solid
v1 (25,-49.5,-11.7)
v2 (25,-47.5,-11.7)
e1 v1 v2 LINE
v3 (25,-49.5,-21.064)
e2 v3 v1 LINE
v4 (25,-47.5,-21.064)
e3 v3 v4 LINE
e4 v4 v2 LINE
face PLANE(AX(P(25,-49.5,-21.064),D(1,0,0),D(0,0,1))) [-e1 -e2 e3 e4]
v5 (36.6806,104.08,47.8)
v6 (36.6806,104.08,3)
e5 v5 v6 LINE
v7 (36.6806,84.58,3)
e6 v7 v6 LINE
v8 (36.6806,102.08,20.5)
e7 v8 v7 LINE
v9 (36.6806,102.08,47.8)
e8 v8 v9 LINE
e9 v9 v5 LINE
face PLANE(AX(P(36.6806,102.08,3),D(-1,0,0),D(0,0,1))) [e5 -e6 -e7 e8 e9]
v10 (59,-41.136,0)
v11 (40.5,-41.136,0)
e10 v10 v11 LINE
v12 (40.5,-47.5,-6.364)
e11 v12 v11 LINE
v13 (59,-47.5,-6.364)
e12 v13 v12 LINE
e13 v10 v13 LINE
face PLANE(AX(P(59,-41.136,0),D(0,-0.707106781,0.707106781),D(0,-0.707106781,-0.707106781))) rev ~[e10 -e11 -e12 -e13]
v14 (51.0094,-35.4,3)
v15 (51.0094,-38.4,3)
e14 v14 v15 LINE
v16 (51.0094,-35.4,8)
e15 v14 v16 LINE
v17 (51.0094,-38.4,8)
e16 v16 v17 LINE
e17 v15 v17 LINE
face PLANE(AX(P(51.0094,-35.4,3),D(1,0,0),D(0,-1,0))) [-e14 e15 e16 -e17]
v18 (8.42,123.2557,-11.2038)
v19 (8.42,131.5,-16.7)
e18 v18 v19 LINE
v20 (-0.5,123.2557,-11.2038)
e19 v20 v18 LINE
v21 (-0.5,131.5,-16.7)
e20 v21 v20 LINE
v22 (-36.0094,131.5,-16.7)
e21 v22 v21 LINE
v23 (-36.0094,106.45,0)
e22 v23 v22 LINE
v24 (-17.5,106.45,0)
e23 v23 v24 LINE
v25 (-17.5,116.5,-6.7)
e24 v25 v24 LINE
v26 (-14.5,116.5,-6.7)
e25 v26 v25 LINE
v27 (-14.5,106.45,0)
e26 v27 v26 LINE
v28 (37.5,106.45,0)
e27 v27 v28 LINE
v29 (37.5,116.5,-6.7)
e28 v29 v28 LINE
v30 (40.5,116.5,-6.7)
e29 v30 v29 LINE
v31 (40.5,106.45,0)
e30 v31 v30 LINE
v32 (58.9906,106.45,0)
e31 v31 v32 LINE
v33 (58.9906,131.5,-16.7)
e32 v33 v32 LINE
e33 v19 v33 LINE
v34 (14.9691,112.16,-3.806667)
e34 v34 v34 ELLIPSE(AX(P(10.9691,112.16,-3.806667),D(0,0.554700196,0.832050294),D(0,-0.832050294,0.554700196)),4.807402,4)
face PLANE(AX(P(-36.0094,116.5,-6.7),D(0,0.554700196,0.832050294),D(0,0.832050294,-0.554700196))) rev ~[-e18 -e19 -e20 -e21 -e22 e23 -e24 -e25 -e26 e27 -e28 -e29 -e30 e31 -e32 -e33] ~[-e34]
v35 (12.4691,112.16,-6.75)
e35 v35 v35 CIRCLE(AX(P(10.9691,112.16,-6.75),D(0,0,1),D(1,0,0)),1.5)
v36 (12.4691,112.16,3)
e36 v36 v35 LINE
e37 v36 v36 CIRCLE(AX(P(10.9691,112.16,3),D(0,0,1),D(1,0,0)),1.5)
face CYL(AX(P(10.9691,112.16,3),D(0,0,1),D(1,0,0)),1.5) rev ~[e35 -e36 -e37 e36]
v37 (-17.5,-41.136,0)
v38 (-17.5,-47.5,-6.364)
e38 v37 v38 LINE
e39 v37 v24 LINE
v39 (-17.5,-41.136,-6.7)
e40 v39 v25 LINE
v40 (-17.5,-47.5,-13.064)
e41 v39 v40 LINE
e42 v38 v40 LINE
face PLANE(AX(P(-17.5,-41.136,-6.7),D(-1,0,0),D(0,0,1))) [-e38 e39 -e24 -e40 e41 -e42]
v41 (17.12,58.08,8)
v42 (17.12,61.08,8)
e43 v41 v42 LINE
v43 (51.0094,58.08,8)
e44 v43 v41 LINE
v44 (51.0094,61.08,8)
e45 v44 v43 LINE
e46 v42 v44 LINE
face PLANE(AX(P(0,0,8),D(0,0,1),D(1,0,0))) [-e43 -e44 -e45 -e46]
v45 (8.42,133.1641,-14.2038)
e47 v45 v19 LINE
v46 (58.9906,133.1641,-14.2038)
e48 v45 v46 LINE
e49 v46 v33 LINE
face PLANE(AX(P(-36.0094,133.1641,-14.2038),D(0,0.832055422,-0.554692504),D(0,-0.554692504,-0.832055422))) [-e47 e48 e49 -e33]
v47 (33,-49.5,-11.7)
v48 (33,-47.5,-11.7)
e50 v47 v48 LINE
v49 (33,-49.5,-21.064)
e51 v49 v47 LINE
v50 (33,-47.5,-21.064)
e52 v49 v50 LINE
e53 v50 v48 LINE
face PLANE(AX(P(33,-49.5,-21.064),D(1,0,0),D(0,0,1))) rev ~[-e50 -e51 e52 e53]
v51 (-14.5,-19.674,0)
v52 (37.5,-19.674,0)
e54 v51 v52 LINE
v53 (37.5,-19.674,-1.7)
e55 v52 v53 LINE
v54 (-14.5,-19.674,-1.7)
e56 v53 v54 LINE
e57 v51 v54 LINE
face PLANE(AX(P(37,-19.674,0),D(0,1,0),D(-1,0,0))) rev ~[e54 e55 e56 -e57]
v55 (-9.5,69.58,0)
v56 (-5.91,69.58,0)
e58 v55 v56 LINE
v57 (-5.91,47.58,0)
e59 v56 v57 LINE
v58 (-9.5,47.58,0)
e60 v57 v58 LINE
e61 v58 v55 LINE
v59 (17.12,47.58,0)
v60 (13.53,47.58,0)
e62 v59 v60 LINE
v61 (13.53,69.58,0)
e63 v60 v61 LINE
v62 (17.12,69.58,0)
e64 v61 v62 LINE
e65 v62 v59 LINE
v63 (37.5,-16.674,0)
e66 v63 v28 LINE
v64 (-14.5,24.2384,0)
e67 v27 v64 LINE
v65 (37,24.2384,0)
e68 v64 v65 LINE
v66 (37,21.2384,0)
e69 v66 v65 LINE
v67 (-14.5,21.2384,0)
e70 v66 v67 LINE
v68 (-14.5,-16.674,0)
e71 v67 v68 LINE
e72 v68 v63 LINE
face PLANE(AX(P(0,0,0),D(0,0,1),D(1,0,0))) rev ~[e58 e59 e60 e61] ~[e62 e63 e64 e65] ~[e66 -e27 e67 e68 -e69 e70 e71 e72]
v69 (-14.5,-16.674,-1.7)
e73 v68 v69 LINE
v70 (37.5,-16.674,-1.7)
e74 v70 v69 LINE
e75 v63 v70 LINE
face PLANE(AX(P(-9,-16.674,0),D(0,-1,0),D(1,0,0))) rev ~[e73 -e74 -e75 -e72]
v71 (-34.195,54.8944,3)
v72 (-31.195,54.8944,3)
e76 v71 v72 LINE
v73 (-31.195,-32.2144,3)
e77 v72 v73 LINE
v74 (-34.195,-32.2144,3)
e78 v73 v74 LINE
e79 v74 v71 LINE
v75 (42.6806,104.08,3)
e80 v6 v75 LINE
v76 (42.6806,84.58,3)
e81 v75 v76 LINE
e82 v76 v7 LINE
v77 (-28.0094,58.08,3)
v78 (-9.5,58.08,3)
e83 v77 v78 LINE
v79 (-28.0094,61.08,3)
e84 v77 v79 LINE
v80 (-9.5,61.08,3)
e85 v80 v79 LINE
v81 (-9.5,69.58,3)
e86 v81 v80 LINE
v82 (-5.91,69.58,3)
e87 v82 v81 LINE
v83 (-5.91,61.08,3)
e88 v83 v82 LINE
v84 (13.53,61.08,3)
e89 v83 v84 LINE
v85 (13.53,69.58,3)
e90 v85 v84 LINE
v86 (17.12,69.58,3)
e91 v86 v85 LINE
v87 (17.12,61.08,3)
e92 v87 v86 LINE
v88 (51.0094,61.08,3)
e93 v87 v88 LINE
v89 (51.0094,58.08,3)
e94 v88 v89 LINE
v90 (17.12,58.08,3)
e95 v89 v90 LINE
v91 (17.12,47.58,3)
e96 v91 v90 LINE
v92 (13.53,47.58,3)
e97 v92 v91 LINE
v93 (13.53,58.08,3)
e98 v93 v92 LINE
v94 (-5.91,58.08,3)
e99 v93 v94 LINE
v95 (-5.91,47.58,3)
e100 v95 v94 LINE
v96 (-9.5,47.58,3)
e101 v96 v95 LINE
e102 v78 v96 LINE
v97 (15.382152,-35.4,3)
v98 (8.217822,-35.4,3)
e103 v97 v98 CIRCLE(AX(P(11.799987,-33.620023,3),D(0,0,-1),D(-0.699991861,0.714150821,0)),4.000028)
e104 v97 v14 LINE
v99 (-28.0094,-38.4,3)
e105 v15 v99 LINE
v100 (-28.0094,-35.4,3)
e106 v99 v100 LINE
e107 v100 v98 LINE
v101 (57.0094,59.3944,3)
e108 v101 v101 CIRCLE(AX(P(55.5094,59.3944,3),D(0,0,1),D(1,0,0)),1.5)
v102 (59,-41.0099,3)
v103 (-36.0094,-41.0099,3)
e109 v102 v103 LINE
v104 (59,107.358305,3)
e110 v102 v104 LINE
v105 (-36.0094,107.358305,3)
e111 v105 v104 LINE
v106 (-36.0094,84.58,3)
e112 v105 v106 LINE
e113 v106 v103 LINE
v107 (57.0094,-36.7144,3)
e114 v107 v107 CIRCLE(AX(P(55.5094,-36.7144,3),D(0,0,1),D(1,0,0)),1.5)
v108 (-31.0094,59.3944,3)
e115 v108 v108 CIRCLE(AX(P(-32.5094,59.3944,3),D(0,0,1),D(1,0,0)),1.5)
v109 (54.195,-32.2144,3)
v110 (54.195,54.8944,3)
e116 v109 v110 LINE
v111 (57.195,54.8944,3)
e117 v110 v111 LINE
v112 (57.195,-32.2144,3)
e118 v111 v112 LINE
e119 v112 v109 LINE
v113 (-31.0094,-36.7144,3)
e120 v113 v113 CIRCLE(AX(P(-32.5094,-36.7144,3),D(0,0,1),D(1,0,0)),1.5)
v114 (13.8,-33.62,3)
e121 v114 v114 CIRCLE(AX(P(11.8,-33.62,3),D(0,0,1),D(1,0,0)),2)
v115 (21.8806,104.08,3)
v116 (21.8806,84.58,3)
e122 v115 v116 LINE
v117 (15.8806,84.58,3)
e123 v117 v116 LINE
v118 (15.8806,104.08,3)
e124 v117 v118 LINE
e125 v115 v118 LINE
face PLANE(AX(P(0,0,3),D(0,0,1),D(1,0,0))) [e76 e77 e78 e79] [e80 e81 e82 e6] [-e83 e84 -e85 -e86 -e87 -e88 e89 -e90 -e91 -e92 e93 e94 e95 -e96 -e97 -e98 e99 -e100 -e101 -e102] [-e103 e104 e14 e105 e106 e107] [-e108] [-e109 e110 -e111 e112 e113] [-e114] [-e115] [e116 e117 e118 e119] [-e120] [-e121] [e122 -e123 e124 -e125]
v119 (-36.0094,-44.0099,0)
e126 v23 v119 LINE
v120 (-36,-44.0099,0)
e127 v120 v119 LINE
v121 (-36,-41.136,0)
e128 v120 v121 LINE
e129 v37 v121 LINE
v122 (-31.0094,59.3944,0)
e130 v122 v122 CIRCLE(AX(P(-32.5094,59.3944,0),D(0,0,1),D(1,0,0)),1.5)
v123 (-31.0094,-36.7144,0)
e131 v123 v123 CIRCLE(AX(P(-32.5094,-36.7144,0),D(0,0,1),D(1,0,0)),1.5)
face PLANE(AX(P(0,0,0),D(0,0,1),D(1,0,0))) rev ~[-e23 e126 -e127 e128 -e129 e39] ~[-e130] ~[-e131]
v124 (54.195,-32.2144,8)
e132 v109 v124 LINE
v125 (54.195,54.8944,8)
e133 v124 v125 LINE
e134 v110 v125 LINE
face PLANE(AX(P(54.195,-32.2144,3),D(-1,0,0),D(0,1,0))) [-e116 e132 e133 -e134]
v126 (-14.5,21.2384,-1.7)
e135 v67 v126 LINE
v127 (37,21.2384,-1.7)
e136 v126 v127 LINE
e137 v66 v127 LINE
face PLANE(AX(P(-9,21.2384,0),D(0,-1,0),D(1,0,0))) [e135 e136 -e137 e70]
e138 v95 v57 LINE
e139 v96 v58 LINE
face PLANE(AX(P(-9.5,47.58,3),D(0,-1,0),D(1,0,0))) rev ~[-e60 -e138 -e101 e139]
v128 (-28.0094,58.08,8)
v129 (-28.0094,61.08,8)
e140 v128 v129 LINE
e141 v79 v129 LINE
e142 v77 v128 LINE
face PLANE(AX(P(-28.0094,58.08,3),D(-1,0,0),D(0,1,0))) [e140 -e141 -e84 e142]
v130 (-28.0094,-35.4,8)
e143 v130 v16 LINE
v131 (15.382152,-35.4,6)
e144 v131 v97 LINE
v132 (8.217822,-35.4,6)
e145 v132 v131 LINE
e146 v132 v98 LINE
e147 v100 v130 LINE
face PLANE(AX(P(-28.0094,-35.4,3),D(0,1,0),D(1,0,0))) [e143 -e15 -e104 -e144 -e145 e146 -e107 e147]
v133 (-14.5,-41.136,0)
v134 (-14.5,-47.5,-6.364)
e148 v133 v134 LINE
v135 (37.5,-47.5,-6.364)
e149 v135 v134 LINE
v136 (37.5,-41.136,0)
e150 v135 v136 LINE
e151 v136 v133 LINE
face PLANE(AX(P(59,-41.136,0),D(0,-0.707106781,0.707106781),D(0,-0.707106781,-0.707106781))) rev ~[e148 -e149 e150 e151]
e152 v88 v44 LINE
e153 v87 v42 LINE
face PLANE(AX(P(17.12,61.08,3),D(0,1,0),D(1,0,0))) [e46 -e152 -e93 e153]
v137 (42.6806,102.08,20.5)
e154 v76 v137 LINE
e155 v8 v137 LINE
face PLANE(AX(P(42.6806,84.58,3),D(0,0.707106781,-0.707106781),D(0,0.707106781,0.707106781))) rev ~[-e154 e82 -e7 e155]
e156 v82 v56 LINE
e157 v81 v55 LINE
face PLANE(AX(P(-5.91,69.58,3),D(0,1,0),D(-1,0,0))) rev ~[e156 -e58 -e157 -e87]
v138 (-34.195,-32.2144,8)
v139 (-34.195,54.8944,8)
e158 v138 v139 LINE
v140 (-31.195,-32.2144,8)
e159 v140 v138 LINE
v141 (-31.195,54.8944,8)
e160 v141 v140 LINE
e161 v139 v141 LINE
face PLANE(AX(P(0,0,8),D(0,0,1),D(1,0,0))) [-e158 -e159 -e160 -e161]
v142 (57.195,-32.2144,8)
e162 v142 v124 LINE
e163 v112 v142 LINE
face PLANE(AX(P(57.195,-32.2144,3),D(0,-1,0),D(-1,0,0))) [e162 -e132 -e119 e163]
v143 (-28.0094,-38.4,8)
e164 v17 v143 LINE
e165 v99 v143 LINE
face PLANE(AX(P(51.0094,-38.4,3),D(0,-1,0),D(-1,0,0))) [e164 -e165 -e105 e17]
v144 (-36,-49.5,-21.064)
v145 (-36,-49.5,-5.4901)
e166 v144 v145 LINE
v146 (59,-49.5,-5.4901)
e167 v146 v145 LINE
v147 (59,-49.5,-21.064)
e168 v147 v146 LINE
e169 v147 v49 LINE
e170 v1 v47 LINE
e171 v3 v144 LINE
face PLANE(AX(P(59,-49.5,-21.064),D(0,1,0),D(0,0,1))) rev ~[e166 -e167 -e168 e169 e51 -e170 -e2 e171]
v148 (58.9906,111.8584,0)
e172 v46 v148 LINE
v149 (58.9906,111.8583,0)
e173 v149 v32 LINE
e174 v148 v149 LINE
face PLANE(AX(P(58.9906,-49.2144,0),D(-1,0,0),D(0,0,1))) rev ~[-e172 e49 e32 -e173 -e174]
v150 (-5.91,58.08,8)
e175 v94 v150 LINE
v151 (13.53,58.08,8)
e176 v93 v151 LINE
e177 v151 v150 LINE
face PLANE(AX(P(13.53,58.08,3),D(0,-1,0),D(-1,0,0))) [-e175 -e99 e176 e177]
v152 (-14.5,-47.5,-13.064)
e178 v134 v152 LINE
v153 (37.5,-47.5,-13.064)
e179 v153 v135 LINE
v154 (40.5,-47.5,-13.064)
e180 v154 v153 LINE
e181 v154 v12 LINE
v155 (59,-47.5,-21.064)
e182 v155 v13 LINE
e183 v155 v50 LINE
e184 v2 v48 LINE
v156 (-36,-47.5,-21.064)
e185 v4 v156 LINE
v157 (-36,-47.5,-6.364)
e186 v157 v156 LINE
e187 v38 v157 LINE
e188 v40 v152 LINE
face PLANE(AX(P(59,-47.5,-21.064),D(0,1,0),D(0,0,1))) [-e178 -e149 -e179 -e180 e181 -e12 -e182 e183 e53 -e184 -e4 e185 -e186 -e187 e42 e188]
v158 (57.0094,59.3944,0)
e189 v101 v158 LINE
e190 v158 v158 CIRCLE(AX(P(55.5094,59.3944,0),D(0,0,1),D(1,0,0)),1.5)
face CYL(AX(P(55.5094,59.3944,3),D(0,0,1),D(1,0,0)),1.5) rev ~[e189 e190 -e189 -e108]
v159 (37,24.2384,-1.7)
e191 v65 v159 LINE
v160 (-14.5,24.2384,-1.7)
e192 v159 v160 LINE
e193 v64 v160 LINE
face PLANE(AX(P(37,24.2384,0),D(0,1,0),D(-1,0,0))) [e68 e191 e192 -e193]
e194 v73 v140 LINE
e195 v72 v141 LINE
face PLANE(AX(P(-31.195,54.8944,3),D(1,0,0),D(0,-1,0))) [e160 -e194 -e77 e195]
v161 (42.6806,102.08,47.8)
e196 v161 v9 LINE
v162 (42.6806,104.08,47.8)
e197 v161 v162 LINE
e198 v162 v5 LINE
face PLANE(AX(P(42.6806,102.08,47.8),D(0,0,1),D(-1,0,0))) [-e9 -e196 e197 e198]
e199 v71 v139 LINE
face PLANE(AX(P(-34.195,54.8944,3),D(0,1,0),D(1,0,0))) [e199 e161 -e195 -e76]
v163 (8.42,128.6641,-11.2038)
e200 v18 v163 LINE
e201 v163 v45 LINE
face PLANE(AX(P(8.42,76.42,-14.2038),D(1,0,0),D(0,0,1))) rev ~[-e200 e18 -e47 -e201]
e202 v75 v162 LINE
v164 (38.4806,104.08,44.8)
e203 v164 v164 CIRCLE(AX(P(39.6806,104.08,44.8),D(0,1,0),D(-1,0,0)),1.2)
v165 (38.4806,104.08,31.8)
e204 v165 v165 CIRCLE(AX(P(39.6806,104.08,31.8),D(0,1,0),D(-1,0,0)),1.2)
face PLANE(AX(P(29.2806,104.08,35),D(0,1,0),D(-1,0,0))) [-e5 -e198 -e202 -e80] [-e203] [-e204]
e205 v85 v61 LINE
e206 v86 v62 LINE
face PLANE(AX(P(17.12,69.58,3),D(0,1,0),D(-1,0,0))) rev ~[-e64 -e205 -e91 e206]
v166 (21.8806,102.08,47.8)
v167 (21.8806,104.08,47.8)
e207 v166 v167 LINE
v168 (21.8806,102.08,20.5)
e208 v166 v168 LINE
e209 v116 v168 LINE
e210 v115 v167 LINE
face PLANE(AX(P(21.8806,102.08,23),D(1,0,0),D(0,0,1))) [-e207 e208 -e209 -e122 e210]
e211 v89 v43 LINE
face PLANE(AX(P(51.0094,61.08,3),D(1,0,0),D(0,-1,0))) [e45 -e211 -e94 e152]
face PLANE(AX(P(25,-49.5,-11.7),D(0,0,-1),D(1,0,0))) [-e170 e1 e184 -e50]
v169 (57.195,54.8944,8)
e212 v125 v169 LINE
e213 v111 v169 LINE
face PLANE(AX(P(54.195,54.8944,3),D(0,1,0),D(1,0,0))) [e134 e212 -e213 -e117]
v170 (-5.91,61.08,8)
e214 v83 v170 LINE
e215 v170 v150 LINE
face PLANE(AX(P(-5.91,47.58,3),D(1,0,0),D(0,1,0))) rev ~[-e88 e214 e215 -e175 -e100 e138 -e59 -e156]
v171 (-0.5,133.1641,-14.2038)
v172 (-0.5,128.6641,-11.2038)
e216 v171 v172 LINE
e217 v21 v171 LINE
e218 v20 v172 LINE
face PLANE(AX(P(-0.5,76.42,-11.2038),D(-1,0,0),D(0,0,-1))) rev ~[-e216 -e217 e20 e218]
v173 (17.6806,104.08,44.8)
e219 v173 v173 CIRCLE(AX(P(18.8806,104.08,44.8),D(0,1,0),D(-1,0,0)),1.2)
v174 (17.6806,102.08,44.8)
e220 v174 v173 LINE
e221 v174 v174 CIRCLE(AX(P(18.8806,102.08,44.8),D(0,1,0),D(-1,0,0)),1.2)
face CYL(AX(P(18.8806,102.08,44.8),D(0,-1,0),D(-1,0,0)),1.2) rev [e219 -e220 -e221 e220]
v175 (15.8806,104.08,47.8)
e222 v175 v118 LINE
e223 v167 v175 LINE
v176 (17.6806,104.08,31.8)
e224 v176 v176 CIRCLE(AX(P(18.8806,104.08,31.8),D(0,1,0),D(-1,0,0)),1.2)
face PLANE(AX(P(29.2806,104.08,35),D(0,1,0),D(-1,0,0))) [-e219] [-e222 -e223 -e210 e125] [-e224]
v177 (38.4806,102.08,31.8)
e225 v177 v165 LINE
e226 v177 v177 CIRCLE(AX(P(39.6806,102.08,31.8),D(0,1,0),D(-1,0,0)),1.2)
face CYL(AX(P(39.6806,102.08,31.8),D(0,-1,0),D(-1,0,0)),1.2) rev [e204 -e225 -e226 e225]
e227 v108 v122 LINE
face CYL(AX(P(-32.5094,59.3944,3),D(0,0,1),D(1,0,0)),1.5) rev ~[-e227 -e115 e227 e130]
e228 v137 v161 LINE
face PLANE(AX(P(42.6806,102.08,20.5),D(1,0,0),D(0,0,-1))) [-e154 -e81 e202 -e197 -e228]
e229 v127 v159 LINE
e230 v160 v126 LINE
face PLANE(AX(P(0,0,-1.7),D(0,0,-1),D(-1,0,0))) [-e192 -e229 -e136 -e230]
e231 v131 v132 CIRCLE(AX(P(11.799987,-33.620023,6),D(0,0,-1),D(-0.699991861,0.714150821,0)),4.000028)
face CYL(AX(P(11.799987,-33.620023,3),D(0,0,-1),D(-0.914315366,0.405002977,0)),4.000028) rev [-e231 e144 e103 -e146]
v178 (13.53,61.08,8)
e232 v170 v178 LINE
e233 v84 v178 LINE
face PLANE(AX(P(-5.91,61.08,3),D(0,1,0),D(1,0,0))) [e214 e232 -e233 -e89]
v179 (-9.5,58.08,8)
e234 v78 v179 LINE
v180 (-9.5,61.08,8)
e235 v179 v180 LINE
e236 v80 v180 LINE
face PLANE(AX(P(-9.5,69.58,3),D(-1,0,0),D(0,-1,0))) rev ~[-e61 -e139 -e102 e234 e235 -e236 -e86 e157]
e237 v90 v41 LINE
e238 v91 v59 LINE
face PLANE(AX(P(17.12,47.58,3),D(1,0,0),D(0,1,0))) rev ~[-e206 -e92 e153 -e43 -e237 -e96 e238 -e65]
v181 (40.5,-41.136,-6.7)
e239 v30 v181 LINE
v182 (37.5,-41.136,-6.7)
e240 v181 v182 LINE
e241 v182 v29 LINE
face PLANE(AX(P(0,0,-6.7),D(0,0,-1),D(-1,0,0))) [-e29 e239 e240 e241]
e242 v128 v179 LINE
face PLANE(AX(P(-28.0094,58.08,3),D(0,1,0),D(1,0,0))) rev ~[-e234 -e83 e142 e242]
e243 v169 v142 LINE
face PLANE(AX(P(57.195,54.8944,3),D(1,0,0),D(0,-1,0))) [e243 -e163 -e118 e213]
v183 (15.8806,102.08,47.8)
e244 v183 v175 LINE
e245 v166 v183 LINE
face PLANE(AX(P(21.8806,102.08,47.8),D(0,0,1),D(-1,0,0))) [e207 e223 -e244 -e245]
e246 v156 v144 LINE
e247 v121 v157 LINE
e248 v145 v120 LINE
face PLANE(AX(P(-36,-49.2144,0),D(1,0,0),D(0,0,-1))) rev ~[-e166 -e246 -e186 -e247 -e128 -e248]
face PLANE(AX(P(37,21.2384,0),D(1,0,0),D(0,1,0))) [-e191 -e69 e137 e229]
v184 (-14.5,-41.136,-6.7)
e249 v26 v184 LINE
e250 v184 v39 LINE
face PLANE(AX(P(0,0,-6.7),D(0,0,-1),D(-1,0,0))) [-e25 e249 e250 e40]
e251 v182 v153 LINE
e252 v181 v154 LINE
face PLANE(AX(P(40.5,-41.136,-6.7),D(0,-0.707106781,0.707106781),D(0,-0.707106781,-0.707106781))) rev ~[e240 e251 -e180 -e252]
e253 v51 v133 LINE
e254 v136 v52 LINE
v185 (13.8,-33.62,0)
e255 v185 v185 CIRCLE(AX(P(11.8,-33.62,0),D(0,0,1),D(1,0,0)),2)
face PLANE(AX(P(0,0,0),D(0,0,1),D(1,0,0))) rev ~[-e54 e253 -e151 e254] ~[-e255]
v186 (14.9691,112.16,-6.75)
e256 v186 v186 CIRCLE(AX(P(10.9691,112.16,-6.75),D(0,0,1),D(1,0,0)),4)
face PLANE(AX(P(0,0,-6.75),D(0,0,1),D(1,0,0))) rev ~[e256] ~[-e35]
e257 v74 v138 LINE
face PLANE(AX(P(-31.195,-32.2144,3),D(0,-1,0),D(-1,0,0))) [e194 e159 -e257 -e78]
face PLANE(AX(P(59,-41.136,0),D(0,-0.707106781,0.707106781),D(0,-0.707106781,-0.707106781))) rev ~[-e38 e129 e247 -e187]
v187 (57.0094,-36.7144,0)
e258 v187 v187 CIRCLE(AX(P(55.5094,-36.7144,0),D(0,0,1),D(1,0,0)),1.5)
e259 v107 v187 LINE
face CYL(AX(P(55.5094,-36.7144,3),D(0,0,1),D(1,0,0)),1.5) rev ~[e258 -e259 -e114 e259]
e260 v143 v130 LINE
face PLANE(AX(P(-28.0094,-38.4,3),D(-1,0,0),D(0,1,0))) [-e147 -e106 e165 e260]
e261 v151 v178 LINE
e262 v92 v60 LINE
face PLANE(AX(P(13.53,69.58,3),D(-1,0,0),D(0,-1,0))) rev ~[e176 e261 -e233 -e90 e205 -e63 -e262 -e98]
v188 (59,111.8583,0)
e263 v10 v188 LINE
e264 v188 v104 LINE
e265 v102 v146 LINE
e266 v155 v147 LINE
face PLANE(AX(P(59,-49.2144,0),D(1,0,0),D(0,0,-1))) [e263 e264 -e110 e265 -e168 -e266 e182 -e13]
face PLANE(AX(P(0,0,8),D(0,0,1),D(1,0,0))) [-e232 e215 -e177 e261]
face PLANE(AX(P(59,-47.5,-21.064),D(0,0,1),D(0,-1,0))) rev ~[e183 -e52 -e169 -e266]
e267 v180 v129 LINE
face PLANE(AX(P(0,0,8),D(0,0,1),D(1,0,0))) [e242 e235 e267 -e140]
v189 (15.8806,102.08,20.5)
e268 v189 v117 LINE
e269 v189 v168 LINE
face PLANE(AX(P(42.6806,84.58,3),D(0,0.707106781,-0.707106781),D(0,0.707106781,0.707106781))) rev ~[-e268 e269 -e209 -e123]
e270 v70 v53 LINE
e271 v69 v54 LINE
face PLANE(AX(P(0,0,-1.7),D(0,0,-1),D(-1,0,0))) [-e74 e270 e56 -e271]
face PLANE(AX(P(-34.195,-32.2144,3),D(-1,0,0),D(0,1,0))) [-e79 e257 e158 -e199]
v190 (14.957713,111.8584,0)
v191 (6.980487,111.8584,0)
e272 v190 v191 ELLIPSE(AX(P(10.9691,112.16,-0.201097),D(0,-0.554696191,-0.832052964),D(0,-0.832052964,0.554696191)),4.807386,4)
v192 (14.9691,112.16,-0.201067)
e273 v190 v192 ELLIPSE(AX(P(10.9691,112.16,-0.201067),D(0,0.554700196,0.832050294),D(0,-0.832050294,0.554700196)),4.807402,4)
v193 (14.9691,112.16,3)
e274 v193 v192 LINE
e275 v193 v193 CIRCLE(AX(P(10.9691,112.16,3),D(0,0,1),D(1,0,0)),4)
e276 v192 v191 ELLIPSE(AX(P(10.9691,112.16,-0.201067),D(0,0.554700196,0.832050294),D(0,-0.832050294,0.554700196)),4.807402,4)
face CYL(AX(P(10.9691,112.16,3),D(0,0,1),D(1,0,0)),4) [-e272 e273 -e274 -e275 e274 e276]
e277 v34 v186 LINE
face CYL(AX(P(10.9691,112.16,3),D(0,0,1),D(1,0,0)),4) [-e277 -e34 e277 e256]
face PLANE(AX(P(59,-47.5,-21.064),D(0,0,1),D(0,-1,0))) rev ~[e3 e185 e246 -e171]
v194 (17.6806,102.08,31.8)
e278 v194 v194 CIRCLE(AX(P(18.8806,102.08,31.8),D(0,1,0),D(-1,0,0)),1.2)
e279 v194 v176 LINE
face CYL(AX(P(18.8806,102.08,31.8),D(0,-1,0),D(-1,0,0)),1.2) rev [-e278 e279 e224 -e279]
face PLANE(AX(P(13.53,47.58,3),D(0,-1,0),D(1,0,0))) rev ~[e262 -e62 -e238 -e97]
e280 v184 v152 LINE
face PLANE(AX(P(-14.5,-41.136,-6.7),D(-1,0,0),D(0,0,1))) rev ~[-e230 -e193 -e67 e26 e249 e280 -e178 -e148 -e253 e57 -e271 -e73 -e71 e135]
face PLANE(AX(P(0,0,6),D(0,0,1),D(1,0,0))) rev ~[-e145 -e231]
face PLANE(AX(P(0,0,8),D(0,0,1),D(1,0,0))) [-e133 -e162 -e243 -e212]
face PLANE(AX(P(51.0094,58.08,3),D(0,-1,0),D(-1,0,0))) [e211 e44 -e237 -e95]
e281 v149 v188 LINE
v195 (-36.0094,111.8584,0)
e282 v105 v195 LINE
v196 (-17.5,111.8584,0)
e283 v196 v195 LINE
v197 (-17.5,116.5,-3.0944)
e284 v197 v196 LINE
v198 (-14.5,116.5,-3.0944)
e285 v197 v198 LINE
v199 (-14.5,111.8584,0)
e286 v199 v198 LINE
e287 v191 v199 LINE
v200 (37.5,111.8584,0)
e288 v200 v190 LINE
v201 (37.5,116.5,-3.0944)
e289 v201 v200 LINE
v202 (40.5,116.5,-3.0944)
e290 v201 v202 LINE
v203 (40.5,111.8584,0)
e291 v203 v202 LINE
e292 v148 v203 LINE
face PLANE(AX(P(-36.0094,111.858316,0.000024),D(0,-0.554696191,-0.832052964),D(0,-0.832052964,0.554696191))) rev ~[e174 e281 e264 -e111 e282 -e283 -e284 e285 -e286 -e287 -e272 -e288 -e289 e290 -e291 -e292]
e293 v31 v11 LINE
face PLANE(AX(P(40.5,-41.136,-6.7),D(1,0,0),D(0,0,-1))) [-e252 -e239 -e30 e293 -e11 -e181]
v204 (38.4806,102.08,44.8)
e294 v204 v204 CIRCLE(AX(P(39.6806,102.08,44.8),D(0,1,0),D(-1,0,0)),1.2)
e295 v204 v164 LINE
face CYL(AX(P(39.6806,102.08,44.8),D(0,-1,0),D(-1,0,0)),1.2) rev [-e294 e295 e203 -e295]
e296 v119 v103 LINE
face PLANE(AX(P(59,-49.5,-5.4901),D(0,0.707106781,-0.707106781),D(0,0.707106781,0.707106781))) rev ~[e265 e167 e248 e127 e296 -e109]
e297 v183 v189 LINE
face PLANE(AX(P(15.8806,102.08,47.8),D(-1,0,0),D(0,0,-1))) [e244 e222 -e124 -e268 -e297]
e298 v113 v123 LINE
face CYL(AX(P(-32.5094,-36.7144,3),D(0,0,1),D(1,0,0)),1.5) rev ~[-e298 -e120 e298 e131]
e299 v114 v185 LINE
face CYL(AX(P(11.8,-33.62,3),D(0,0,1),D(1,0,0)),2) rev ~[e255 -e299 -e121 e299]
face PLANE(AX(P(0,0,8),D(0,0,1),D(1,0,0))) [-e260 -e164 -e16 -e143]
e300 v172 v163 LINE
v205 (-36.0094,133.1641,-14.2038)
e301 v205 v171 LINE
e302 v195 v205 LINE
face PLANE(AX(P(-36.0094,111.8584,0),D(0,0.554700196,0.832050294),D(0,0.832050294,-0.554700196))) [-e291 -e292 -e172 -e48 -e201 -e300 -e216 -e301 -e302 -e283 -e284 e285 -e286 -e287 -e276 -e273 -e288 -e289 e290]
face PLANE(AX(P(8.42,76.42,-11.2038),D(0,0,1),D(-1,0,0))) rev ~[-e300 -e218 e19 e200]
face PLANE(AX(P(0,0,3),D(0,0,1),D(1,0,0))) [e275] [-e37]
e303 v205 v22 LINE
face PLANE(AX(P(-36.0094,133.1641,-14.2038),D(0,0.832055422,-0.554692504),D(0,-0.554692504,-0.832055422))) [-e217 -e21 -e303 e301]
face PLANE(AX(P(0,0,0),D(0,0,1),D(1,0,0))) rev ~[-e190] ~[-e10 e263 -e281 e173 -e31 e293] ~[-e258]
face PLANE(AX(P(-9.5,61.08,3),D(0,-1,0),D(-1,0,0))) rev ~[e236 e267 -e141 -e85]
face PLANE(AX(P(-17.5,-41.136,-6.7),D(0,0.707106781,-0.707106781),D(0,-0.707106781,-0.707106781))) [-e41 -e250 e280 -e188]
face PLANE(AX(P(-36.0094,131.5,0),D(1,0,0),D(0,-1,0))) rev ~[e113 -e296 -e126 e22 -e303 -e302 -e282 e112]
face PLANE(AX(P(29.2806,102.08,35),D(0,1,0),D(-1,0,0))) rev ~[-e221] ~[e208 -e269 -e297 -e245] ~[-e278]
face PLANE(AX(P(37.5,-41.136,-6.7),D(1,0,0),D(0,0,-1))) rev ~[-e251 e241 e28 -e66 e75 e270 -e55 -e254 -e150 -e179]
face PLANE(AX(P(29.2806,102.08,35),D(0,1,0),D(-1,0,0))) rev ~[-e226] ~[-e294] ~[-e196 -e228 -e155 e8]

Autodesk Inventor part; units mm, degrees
ref_plane "YZ Plane" through (0, 0, 0) normal (1, 0, 0) x (0, 1, 0)
ref_plane "XZ Plane" through (0, 0, 0) normal (0, 1, 0) x (-1, 0, 0)
ref_plane "XY Plane" through (0, 0, 0) normal (0, 0, 1) x (1, 0, 0)
sketch "Sketch1" plane through (0, 0, 0) normal (0, 0, 1) x (1, 0, 0)
  line L0 (59, 131.5) -> (-36.0094, 131.5)
  line L1 (-36.0094, 131.5) -> (-36.0094, -49.2144)
  line L2 (-36.0094, -49.2144) -> (59, -49.2144)
  line L3 (59, -49.2144) -> (59, 131.5)
  point P0 (0, 0)
  point P1 (-36, 131.5)
  point P2 (59.0094, -49.2144)
extrude "Extrusion1" add sketch "Sketch1" along normal blind 3
sketch "Sketch2" plane through (0, 0, 3) normal (0, 0, 1) x (1, 0, 0)
  line L0 (16.62, 69.08) -> (14.03, 69.08)
  line L1 (14.03, 69.08) -> (14.03, 48.08)
  line L2 (14.03, 48.08) -> (16.62, 48.08)
  line L3 (16.62, 48.08) -> (16.62, 69.08)
  line L4 (-6.41, 48.08) -> (-6.41, 69.08)
  line L5 (-6.41, 69.08) -> (-9, 69.08)
  line L6 (-9, 69.08) -> (-9, 48.08)
  line L7 (-9, 48.08) -> (-6.41, 48.08)
  line L8 (59, 131.5) -> (-36.0094, 131.5)
  line L9 (-36.0094, 131.5) -> (-36.0094, -49.2144)
  line L10 (-36.0094, -49.2144) -> (59, -49.2144)
  line L11 (59, -49.2144) -> (59, 131.5)
  line L12 (17.12, 69.58) -> (13.53, 69.58)
  line L13 (13.53, 69.58) -> (13.53, 47.58)
  line L14 (13.53, 47.58) -> (17.12, 47.58)
  line L15 (17.12, 47.58) -> (17.12, 69.58)
  line L16 (-5.91, 69.58) -> (-9.5, 69.58)
  line L17 (-9.5, 69.58) -> (-9.5, 47.58)
  line L18 (-9.5, 47.58) -> (-5.91, 47.58)
  line L19 (-5.91, 47.58) -> (-5.91, 69.58)
  circle A0 centre (55.5094, 59.3944) radius 1.5
  circle A1 centre (55.5094, -36.7144) radius 1.5
  circle A2 centre (-32.5094, -36.7144) radius 1.5
  circle A3 centre (-32.5094, 59.3944) radius 1.5
  point P0 (0, 0)
extrude "Extrusion2" cut sketch "Sketch2" against normal up to next contours L3 L2 L1 L0 | L7 L6 L5 L4 | L15 L14 L13 L12 | L19 L18 L17 L16 | A0 | A1 | A2 | A3
sketch "Sketch3" plane through (0, 0, 3) normal (0, 0, 1) x (1, 0, 0)
  line L0 (-34.195, 54.8944) -> (-31.195, 54.8944) projected
  line L1 (-31.195, 54.8944) -> (-31.195, -32.2144) projected
  line L2 (-31.195, -32.2144) -> (-34.195, -32.2144) projected
  line L3 (-34.195, -32.2144) -> (-34.195, 54.8944) projected
  line L4 (54.195, 54.8944) -> (57.195, 54.8944) projected
  line L5 (57.195, 54.8944) -> (57.195, -32.2144) projected
  line L6 (57.195, -32.2144) -> (54.195, -32.2144) projected
  line L7 (54.195, -32.2144) -> (54.195, 54.8944) projected
  line L8 (-28.0094, -35.4) -> (51.0094, -35.4) projected
  line L9 (51.0094, -35.4) -> (51.0094, -38.4) projected
  line L10 (51.0094, -38.4) -> (-28.0094, -38.4) projected
  line L11 (-28.0094, -38.4) -> (-28.0094, -35.4) projected
  line L12 (51.0094, 61.08) -> (51.0094, 58.08) projected
  line L13 (-28.0094, 58.08) -> (-28.0094, 61.08) projected
  line L14 (17.12, 47.58) -> (17.12, 69.58) projected
  line L15 (51.0094, 58.08) -> (17.12, 58.08)
  line L16 (17.12, 58.08) -> (17.12, 61.08)
  line L17 (17.12, 61.08) -> (51.0094, 61.08)
  line L18 (51.0094, 61.08) -> (51.0094, 58.08)
  line L19 (13.53, 47.58) -> (13.53, 69.58) projected
  line L20 (-5.91, 69.58) -> (-5.91, 47.58) projected
  line L21 (13.53, 58.08) -> (-5.91, 58.08)
  line L22 (-5.91, 58.08) -> (-5.91, 61.08)
  line L23 (-5.91, 61.08) -> (13.53, 61.08)
  line L24 (13.53, 61.08) -> (13.53, 58.08)
  line L25 (-9.5, 47.58) -> (-9.5, 69.58) projected
  line L26 (-28.0094, 58.08) -> (-9.5, 58.08)
  line L27 (-9.5, 58.08) -> (-9.5, 61.08)
  line L28 (-9.5, 61.08) -> (-28.0094, 61.08)
  line L29 (-28.0094, 61.08) -> (-28.0094, 58.08)
  point P0 (0, 0)
extrude "Extrusion3" add sketch "Sketch3" along normal blind 5
sketch "Sketch4" plane through (0, 0, 0) normal (0, 0, -1) x (-1, 0, 0)
  line L0 (16, 116.5) -> (36, 116.5) projected
  line L1 (36, 116.5) -> (36, -41.136) projected
  line L2 (36, -41.136) -> (16, -41.136) projected
  line L3 (16, -41.136) -> (16, 116.5) projected
  line L4 (-59, 116.5) -> (-39, 116.5) projected
  line L5 (-39, 116.5) -> (-39, -41.136) projected
  line L6 (-39, -41.136) -> (-59, -41.136) projected
  line L7 (-59, -41.136) -> (-59, 116.5) projected
  line L8 (14.5, -41.136) -> (17.5, -41.136)
  line L9 (17.5, -41.136) -> (17.5, 116.5)
  line L10 (17.5, 116.5) -> (14.5, 116.5)
  line L11 (14.5, 116.5) -> (14.5, -41.136)
  line L12 (-37.5, 116.5) -> (-40.5, 116.5)
  line L13 (-40.5, 116.5) -> (-40.5, -41.136)
  line L14 (-40.5, -41.136) -> (-37.5, -41.136)
  line L15 (-37.5, -41.136) -> (-37.5, 116.5)
  point P0 (0, 0)
  dimension "d13" = 1.5
  dimension "d14" = 1.5
  dimension "d15" = 1.5
  dimension "d16" = 1.5
extrude "Extrusion4" add sketch "Sketch4" along normal blind 6.7 contours L0 L9 L2 L3 | L3 L8 L11 L10 | L4 L5 L6 L13 | L12 L15 L14 L5
sketch "Sketch5" plane through (0, 0, 0) normal (0, 0, -1) x (-1, 0, 0)
  line L0 (-37, -32) -> (-37, 32) projected
  line L1 (9, 32) -> (9, -32) projected
  line L2 (14.5, 116.5) -> (14.5, -41.136) projected
  line L3 (-37, 24.2384) -> (14.5, 24.2384)
  line L4 (14.5, 24.2384) -> (14.5, 21.2384)
  line L5 (14.5, 21.2384) -> (-37, 21.2384)
  line L6 (-37, 21.2384) -> (-37, 24.2384)
  line L7 (-37.5, 116.5) -> (-37.5, -41.136) projected
  line L8 (14.5, -16.674) -> (-37.5, -16.674)
  line L9 (-37.5, -16.674) -> (-37.5, -19.674)
  line L10 (-37.5, -19.674) -> (14.5, -19.674)
  line L11 (14.5, -19.674) -> (14.5, -16.674)
  point P0 (0, 0)
  dimension "d20" = 3
  dimension "d21" = 3
extrude "Extrusion5" add sketch "Sketch5" along normal blind 1.7 contours L0 L3 L1 L5 | L8 L1 L10 L0 | L0 L10 L7 L8 | L1 L3 L2 L5 | L8 L2 L10 L1
sketch "Sketch6" plane through (-36.0094, -49.2144, 0) normal (-1, 0, 0) x (0, 0, 1)
  line L0 (-6.7, 165.7144) -> (-16.7, 180.7144) projected
  line L1 (-16.7, 180.7144) -> (-44.2, 151.5422) projected
  line L2 (-44.2, -0.2856) -> (-44.2, 151.5422) projected
  line L3 (-21.064, -0.2856) -> (-44.2, -0.2856) projected
  line L4 (-21.064, 1.7144) -> (-21.064, -0.2856) projected
  line L5 (-21.064, 1.7144) -> (-13.064, 1.7144) projected
  line L6 (-13.064, 1.7144) -> (-6.7, 8.0784) projected
  line L7 (-6.7, 165.7144) -> (-6.7, 8.0784) projected
  line L8 (0, 180.7144) -> (0, 0) projected
  line L9 (0, 0) -> (3, 0) projected
  line L10 (3, 180.7144) -> (3, 0) projected
  line L11 (0, 180.7144) -> (3, 180.7144) projected
  line L12 (-16.7, 180.7144) -> (0, 155.6644)
  line L13 (0, 155.6644) -> (2.4962, 157.3285)
  line L14 (2.4962, 157.3285) -> (-14.2038, 182.3785)
  line L15 (-14.2038, 182.3785) -> (-16.7, 180.7144)
  point P0 (0, 49.2144)
  dimension "d24" = 3
  dimension "d25" = 0
extrude "Extrusion6" add sketch "Sketch6" against normal blind 95 contours L0 L15 L14 L8 L12 | L8 L14 L13
sketch "Sketch7" plane through (-36.0094, -49.2144, 3) normal (-1, 0, 0) x (0, 0, 1)
  line L0 (-3, 165.7144) -> (-6.0944, 165.7144) projected
  line L1 (-6.0944, 165.7144) -> (0.2976, 156.1263)
  line L2 (-3, 161.0727) -> (-6.0944, 165.7144) projected
  line L3 (0.2976, 156.1263) -> (0.2976, 182.9184)
  line L4 (0, 0) -> (0, 180.7144) projected
  line L5 (0.2976, 182.9184) -> (-5.3952, 181.9603)
  line L6 (-5.3952, 181.9603) -> (-6.0944, 165.7144)
  point P0 (-3, 49.2144)
extrude "Extrusion7" cut sketch "Sketch7" against normal blind 96
ref_plane "Work Plane1" through (16.62, 76.42, -7.3) normal (0, 1, 0) x (-1, 0, 0)
sketch "Sketch9" plane through (16.62, 76.42, -7.3) normal (0, 1, 0) x (-1, 0, 0)
  line L0 (0, 0) -> (8.7, 0) projected
  line L1 (8.7, 0) -> (8.7, -2.78) projected
  line L2 (16.62, -2.78) -> (8.7, -2.78) projected
  line L3 (16.62, 0) -> (16.62, -2.78) projected
  line L4 (16.62, 0) -> (25.62, 0) projected
  line L5 (25.62, 0) -> (25.62, 1.3) projected
  line L6 (0, 1.3) -> (25.62, 1.3) projected
  line L7 (0, 0) -> (0, 1.3) projected
  line L8 (8.2, -3.9038) -> (17.12, -3.9038)
  line L9 (17.12, -3.9038) -> (17.12, -9.4)
  line L10 (17.12, -9.4) -> (8.2, -9.4)
  line L11 (8.2, -9.4) -> (8.2, -3.9038)
  line L12 (52.6294, -6.9038) -> (52.6294, -9.4) projected
  line L13 (52.6294, -6.9038) -> (-42.3706, -6.9038) projected
  line L14 (-42.3706, -9.4) -> (-42.3706, -6.9038) projected
  line L15 (52.6294, -9.4) -> (-42.3706, -9.4) projected
  point P0 (16.62, 7.3)
  dimension "d35" = 0
  dimension "d36" = 3
  dimension "d37" = 0.5
  dimension "d38" = 0.5
extrude "Extrusion8" cut sketch "Sketch9" along normal through all contours L8 L9 L13 L11 | L13 L9 L10 L11
sketch "Sketch10" plane through (0, 0, 3) normal (0, 0, 1) x (1, 0, 0)
  circle A0 centre (10.9691, 112.16) radius 1.5 projected
  circle A1 centre (11.8, -33.62) radius 2 projected
  circle A2 centre (10.9691, 112.16) radius 4 projected
  arc A3 (8.1427, -32) -> (9, -30.7634) centre (11.8, -33.62) ccw projected
  circle A4 centre (11.8, -33.62) radius 4
  point P0 (0, 0)
extrude "Extrusion9" cut sketch "Sketch10" along normal blind 3 contours A1 | A4 A3
sketch "Sketch11" plane through (0, 0, 3) normal (0, 0, 1) x (1, 0, 0)
  circle A0 centre (10.9691, 112.16) radius 4 projected
  circle A1 centre (10.9691, 112.16) radius 1.5 projected
  point P0 (0, 0)
extrude "Extrusion10" add sketch "Sketch11" against normal blind 9.75 contours A0 | A1
sketch "Sketch12" plane through (10.9691, 112.16, 3) normal (0, 0, 1) x (1, 0, 0)
  circle A0 centre (0, 0) radius 4
  circle A1 centre (0, 0) radius 1.5 projected
  point P0 (-10.9691, -112.16)
extrude "Extrusion11" cut sketch "Sketch12" against normal up to next contours A1
sketch "Sketch13" plane through (0, 0, 3) normal (0, 0, 1) x (1, 0, 0)
  circle A0 centre (11.8, -33.62) radius 2 projected
  point P0 (0, 0)
extrude "Extrusion12" cut sketch "Sketch13" against normal up to next
sketch "Sketch15" plane through (59, -49.2144, 0) normal (1, 0, 0) x (0, 0, -1)
  line L0 (44.2, 151.5422) -> (16.7, 180.7144) projected
  line L1 (16.7, 180.7144) -> (6.7, 165.7144) projected
  line L2 (6.7, 8.0784) -> (6.7, 165.7144) projected
  line L3 (6.7, 8.0784) -> (13.064, 1.7144) projected
  line L4 (21.064, 1.7144) -> (13.064, 1.7144) projected
  line L5 (21.064, 1.7144) -> (21.064, -0.2856) projected
  line L6 (44.2, -0.2856) -> (21.064, -0.2856) projected
  line L7 (44.2, 151.5422) -> (44.2, -0.2856) projected
  line L8 (0, 8.0784) -> (0, 155.6644) projected
  line L9 (-3.0214, 8.0784) -> (0, 8.0784)
  line L10 (0, 8.0784) -> (6.364, 1.7144)
  line L11 (6.364, 1.7144) -> (21.064, 1.7144)
  line L12 (21.064, -0.2856) -> (5.4901, -0.2856)
  line L13 (5.4901, -0.2856) -> (-2.8739, 8.0784)
  point P0 (0, 49.2144)
  dimension "d51" = 135
  dimension "d52" = 45
extrude "Extrusion13" add sketch "Sketch15" against normal blind 95 contours L12 L13 L9 L10 L11 L4 L5
sketch "Sketch16" plane through (40.5, -41.136, -6.7) normal (1, 0, 0) x (0, 0, -1)
  line L0 (-6.7, 0) -> (-6.7, 152.9944) projected
  line L1 (-6.7, 152.9944) -> (-9.7, 148.4944) projected
  line L2 (-9.7, -8.0784) -> (-9.7, 148.4944) projected
  line L3 (-6.7, -8.0784) -> (-9.7, -8.0784) projected
  line L4 (-6.7, -8.0784) -> (-6.7, -2.8739) projected
  line L5 (-6.7, -2.8739) -> (-1.2099, -8.364) projected
  line L6 (-1.2099, -8.364) -> (14.364, -8.364) projected
  line L7 (14.364, -8.364) -> (14.364, -6.364) projected
  line L8 (14.364, -6.364) -> (-0.336, -6.364) projected
  line L9 (-0.336, -6.364) -> (-6.7, 0) projected
  line L10 (-6.7, 0) -> (0, 0) projected
  line L11 (0, 0) -> (6.364, -6.364)
  line L12 (14.364, -6.364) -> (-0.336, -6.364) projected
  line L13 (-0.336, -6.364) -> (-6.7, 0)
  point P0 (-6.7, 41.136)
extrude "Extrusion14" add sketch "Sketch16" against normal blind 3 contours L10 L11 L8 L9
sketch "Sketch17" plane through (-17.5, -41.136, -6.7) normal (-1, 0, 0) x (0, 0, 1)
  line L0 (6.7, 147.586) -> (0, 157.636) projected
  line L1 (0, 0) -> (0, 157.636) projected
  line L2 (0, 0) -> (-6.364, -6.364) projected
  line L3 (0.336, -6.364) -> (-6.364, -6.364) projected
  line L4 (6.7, 0) -> (0.336, -6.364) projected
  line L5 (6.7, 21.462) -> (6.7, 0) projected
  line L6 (6.7, 21.462) -> (5, 21.462) projected
  line L7 (5, 21.462) -> (5, 24.462) projected
  line L8 (5, 24.462) -> (6.7, 24.462) projected
  line L9 (6.7, 147.586) -> (6.7, 24.462) projected
  line L10 (-6.364, -6.364) -> (0, 0) projected
  line L11 (0, 0) -> (-6.364, -6.364)
  line L12 (-6.364, -6.364) -> (0.336, -6.364) projected
  line L13 (-6.364, -6.364) -> (0.336, -6.364)
  line L14 (0.336, -6.364) -> (6.7, 0) projected
  line L15 (0.336, -6.364) -> (6.7, 0)
  line L16 (6.7, 0) -> (0, 0)
  point P0 (6.7, 41.136)
extrude "Extrusion15" add sketch "Sketch17" against normal blind 3 contours L16 L4 L3 L2
sketch "Sketch18" plane through (59, -49.5, -21.064) normal (0, -1, 0) x (1, 0, 0)
  line L0 (-34, 0) -> (-26, 0) projected
  line L1 (-26, 0) -> (-26, 9.364) projected
  line L2 (-34, 9.364) -> (-26, 9.364) projected
  line L3 (-34, 0) -> (-34, 9.364) projected
  point P0 (-59, 21.064)
extrude "Extrusion16" cut sketch "Sketch18" against normal up to next
sketch "Sketch19" plane through (59, -49.2144, 3) normal (1, 0, 0) x (0, 0, -1)
  line L0 (3, 0) -> (3, 5.2045) projected
  line L1 (3, 5.2045) -> (0, 8.2045)
  line L2 (0, 0) -> (0, 156.5727) projected
  line L3 (3, 0) -> (0, 0) projected
  line L4 (0, 0) -> (3, 0)
  line L5 (3, 8.0784) -> (3, 5.2045) projected
  line L6 (3, 0) -> (3, 5.2045)
  point P0 (3, 49.2144)
  dimension "d61" = 45
extrude "Extrusion17" cut sketch "Sketch19" against normal through all
ref_plane "Work Plane2" through (29.2806, 102.08, 35) normal (0, 1, 0) x (-1, 0, 0)
sketch "Sketch20" plane through (29.2806, 102.08, 35) normal (0, 1, 0) x (-1, 0, 0)
  line L0 (-4.6, -7) -> (-4.6, 1) projected
  line L1 (-4.6, 1) -> (-5.4, 1) projected
  line L2 (-5.4, 1) -> (-5.4, 9) projected
  line L3 (-5.4, 9) -> (3.6, 9) projected
  line L4 (3.6, 9) -> (3.6, 2) projected
  line L5 (3.6, 2) -> (4.4, 2) projected
  line L6 (4.4, 2) -> (4.4, -7) projected
  line L7 (4.4, -7) -> (-4.6, -7) projected
  circle A0 centre (10.4, -3.2) radius 1.2 projected
  circle A1 centre (-10.4, 9.8) radius 1.2 projected
  circle A2 centre (10.4, 9.8) radius 1.2 projected
  circle A3 centre (-10.4, -3.2) radius 1.2 projected
  line L8 (10.6, 12) -> (-10.6, 12) projected
  arc A4 (-10.6, 12) -> (-12.6, 10) centre (-10.6, 10) ccw projected
  line L9 (-12.6, 10) -> (-12.6, -10) projected
  arc A5 (-12.6, -10) -> (-10.6, -12) centre (-10.6, -10) ccw projected
  line L10 (-10.6, -12) -> (10.6, -12) projected
  arc A6 (10.6, -12) -> (12.6, -10) centre (10.6, -10) ccw projected
  line L11 (12.6, -10) -> (12.6, 10) projected
  arc A7 (12.6, 10) -> (10.6, 12) centre (10.6, 10) ccw projected
  line L12 (-13.4, 12.8) -> (-7.4, 12.8)
  line L13 (-7.4, 12.8) -> (-7.4, -32)
  line L14 (-7.4, -32) -> (-13.4, -32)
  line L15 (-13.4, -32) -> (-13.4, 12.8)
  line L16 (-29.7194, -32) -> (65.29, -32) projected
  line L17 (7.4, 12.8) -> (13.4, 12.8)
  line L18 (13.4, 12.8) -> (13.4, -32)
  line L19 (13.4, -32) -> (7.4, -32)
  line L20 (7.4, -32) -> (7.4, 12.8)
  point P0 (29.2806, -35)
  dimension "d67" = 3
  dimension "d68" = 3
  dimension "d69" = 3
  dimension "d70" = 0
  dimension "d79" = 3
  dimension "d80" = 3
  dimension "d81" = 3
  dimension "d82" = 0
extrude "Extrusion18" add sketch "Sketch20" along normal blind 2 contours A7 L11 A6 L10 L20 L8 | L8 L20 L17 L18 L16 L10 A6 L11 A7 | L13 L10 A5 L9 A4 L8 | L8 A4 L9 A5 L10 L13 L14 L15 L12
sketch "Sketch21" plane through (29.2806, 102.08, 35) normal (0, -1, 0) x (1, 0, 0)
  line L0 (13.4, 12.8) -> (13.4, -32) projected
  line L1 (7.4, -14.5) -> (13.4, -14.5)
  line L2 (13.4, -14.5) -> (13.4, -32)
  line L3 (13.4, -32) -> (7.4, -32)
  line L4 (7.4, -32) -> (7.4, -14.5)
  line L5 (-65.29, -32) -> (29.7194, -32) projected
  line L6 (7.4, 12.8) -> (7.4, -32) projected
  line L7 (-13.4, -32) -> (-13.4, 12.8) projected
  line L8 (21.7288, -32) -> (-57.29, -32) projected
  line L9 (-13.4, -14.5) -> (-7.4, -14.5)
  line L10 (-7.4, -14.5) -> (-7.4, -32)
  line L11 (-7.4, -32) -> (-13.4, -32)
  line L12 (-13.4, -32) -> (-13.4, -14.5)
  line L13 (-7.4, -32) -> (-7.4, 12.8) projected
  point P0 (-29.2806, -35)
  dimension "d73" = 0
  dimension "d74" = 0
  dimension "d83" = 0
  dimension "d84" = 17.5
  dimension "d85" = 17.5
extrude "Extrusion19" add sketch "Sketch21" along normal blind 17.5
sketch "Sketch22" plane through (42.6806, 102.08, 47.8) normal (1, 0, 0) x (0, 0, -1)
  line L0 (44.8, -17.5) -> (27.3, -17.5) projected
  line L1 (27.3, -17.5) -> (44.8, -17.5)
  line L2 (27.3, 0) -> (27.3, -17.5) projected
  line L3 (44.8, -17.5) -> (27.3, 0)
  line L4 (27.3, 0) -> (27.3, -17.5)
  point P0 (47.8, -102.08)
extrude "Extrusion20" cut sketch "Sketch22" against normal through all
equation "\"d14\" = d13"
equation "\"d15\" = d13"
equation "\"d16\" = d13"
equation "\"d68\" = d67"
equation "\"d69\" = d67"
equation "\"d79\" = d67"
equation "\"d80\" = d79"
equation "\"d81\" = d79"
properties part number "chassis-akksi"
